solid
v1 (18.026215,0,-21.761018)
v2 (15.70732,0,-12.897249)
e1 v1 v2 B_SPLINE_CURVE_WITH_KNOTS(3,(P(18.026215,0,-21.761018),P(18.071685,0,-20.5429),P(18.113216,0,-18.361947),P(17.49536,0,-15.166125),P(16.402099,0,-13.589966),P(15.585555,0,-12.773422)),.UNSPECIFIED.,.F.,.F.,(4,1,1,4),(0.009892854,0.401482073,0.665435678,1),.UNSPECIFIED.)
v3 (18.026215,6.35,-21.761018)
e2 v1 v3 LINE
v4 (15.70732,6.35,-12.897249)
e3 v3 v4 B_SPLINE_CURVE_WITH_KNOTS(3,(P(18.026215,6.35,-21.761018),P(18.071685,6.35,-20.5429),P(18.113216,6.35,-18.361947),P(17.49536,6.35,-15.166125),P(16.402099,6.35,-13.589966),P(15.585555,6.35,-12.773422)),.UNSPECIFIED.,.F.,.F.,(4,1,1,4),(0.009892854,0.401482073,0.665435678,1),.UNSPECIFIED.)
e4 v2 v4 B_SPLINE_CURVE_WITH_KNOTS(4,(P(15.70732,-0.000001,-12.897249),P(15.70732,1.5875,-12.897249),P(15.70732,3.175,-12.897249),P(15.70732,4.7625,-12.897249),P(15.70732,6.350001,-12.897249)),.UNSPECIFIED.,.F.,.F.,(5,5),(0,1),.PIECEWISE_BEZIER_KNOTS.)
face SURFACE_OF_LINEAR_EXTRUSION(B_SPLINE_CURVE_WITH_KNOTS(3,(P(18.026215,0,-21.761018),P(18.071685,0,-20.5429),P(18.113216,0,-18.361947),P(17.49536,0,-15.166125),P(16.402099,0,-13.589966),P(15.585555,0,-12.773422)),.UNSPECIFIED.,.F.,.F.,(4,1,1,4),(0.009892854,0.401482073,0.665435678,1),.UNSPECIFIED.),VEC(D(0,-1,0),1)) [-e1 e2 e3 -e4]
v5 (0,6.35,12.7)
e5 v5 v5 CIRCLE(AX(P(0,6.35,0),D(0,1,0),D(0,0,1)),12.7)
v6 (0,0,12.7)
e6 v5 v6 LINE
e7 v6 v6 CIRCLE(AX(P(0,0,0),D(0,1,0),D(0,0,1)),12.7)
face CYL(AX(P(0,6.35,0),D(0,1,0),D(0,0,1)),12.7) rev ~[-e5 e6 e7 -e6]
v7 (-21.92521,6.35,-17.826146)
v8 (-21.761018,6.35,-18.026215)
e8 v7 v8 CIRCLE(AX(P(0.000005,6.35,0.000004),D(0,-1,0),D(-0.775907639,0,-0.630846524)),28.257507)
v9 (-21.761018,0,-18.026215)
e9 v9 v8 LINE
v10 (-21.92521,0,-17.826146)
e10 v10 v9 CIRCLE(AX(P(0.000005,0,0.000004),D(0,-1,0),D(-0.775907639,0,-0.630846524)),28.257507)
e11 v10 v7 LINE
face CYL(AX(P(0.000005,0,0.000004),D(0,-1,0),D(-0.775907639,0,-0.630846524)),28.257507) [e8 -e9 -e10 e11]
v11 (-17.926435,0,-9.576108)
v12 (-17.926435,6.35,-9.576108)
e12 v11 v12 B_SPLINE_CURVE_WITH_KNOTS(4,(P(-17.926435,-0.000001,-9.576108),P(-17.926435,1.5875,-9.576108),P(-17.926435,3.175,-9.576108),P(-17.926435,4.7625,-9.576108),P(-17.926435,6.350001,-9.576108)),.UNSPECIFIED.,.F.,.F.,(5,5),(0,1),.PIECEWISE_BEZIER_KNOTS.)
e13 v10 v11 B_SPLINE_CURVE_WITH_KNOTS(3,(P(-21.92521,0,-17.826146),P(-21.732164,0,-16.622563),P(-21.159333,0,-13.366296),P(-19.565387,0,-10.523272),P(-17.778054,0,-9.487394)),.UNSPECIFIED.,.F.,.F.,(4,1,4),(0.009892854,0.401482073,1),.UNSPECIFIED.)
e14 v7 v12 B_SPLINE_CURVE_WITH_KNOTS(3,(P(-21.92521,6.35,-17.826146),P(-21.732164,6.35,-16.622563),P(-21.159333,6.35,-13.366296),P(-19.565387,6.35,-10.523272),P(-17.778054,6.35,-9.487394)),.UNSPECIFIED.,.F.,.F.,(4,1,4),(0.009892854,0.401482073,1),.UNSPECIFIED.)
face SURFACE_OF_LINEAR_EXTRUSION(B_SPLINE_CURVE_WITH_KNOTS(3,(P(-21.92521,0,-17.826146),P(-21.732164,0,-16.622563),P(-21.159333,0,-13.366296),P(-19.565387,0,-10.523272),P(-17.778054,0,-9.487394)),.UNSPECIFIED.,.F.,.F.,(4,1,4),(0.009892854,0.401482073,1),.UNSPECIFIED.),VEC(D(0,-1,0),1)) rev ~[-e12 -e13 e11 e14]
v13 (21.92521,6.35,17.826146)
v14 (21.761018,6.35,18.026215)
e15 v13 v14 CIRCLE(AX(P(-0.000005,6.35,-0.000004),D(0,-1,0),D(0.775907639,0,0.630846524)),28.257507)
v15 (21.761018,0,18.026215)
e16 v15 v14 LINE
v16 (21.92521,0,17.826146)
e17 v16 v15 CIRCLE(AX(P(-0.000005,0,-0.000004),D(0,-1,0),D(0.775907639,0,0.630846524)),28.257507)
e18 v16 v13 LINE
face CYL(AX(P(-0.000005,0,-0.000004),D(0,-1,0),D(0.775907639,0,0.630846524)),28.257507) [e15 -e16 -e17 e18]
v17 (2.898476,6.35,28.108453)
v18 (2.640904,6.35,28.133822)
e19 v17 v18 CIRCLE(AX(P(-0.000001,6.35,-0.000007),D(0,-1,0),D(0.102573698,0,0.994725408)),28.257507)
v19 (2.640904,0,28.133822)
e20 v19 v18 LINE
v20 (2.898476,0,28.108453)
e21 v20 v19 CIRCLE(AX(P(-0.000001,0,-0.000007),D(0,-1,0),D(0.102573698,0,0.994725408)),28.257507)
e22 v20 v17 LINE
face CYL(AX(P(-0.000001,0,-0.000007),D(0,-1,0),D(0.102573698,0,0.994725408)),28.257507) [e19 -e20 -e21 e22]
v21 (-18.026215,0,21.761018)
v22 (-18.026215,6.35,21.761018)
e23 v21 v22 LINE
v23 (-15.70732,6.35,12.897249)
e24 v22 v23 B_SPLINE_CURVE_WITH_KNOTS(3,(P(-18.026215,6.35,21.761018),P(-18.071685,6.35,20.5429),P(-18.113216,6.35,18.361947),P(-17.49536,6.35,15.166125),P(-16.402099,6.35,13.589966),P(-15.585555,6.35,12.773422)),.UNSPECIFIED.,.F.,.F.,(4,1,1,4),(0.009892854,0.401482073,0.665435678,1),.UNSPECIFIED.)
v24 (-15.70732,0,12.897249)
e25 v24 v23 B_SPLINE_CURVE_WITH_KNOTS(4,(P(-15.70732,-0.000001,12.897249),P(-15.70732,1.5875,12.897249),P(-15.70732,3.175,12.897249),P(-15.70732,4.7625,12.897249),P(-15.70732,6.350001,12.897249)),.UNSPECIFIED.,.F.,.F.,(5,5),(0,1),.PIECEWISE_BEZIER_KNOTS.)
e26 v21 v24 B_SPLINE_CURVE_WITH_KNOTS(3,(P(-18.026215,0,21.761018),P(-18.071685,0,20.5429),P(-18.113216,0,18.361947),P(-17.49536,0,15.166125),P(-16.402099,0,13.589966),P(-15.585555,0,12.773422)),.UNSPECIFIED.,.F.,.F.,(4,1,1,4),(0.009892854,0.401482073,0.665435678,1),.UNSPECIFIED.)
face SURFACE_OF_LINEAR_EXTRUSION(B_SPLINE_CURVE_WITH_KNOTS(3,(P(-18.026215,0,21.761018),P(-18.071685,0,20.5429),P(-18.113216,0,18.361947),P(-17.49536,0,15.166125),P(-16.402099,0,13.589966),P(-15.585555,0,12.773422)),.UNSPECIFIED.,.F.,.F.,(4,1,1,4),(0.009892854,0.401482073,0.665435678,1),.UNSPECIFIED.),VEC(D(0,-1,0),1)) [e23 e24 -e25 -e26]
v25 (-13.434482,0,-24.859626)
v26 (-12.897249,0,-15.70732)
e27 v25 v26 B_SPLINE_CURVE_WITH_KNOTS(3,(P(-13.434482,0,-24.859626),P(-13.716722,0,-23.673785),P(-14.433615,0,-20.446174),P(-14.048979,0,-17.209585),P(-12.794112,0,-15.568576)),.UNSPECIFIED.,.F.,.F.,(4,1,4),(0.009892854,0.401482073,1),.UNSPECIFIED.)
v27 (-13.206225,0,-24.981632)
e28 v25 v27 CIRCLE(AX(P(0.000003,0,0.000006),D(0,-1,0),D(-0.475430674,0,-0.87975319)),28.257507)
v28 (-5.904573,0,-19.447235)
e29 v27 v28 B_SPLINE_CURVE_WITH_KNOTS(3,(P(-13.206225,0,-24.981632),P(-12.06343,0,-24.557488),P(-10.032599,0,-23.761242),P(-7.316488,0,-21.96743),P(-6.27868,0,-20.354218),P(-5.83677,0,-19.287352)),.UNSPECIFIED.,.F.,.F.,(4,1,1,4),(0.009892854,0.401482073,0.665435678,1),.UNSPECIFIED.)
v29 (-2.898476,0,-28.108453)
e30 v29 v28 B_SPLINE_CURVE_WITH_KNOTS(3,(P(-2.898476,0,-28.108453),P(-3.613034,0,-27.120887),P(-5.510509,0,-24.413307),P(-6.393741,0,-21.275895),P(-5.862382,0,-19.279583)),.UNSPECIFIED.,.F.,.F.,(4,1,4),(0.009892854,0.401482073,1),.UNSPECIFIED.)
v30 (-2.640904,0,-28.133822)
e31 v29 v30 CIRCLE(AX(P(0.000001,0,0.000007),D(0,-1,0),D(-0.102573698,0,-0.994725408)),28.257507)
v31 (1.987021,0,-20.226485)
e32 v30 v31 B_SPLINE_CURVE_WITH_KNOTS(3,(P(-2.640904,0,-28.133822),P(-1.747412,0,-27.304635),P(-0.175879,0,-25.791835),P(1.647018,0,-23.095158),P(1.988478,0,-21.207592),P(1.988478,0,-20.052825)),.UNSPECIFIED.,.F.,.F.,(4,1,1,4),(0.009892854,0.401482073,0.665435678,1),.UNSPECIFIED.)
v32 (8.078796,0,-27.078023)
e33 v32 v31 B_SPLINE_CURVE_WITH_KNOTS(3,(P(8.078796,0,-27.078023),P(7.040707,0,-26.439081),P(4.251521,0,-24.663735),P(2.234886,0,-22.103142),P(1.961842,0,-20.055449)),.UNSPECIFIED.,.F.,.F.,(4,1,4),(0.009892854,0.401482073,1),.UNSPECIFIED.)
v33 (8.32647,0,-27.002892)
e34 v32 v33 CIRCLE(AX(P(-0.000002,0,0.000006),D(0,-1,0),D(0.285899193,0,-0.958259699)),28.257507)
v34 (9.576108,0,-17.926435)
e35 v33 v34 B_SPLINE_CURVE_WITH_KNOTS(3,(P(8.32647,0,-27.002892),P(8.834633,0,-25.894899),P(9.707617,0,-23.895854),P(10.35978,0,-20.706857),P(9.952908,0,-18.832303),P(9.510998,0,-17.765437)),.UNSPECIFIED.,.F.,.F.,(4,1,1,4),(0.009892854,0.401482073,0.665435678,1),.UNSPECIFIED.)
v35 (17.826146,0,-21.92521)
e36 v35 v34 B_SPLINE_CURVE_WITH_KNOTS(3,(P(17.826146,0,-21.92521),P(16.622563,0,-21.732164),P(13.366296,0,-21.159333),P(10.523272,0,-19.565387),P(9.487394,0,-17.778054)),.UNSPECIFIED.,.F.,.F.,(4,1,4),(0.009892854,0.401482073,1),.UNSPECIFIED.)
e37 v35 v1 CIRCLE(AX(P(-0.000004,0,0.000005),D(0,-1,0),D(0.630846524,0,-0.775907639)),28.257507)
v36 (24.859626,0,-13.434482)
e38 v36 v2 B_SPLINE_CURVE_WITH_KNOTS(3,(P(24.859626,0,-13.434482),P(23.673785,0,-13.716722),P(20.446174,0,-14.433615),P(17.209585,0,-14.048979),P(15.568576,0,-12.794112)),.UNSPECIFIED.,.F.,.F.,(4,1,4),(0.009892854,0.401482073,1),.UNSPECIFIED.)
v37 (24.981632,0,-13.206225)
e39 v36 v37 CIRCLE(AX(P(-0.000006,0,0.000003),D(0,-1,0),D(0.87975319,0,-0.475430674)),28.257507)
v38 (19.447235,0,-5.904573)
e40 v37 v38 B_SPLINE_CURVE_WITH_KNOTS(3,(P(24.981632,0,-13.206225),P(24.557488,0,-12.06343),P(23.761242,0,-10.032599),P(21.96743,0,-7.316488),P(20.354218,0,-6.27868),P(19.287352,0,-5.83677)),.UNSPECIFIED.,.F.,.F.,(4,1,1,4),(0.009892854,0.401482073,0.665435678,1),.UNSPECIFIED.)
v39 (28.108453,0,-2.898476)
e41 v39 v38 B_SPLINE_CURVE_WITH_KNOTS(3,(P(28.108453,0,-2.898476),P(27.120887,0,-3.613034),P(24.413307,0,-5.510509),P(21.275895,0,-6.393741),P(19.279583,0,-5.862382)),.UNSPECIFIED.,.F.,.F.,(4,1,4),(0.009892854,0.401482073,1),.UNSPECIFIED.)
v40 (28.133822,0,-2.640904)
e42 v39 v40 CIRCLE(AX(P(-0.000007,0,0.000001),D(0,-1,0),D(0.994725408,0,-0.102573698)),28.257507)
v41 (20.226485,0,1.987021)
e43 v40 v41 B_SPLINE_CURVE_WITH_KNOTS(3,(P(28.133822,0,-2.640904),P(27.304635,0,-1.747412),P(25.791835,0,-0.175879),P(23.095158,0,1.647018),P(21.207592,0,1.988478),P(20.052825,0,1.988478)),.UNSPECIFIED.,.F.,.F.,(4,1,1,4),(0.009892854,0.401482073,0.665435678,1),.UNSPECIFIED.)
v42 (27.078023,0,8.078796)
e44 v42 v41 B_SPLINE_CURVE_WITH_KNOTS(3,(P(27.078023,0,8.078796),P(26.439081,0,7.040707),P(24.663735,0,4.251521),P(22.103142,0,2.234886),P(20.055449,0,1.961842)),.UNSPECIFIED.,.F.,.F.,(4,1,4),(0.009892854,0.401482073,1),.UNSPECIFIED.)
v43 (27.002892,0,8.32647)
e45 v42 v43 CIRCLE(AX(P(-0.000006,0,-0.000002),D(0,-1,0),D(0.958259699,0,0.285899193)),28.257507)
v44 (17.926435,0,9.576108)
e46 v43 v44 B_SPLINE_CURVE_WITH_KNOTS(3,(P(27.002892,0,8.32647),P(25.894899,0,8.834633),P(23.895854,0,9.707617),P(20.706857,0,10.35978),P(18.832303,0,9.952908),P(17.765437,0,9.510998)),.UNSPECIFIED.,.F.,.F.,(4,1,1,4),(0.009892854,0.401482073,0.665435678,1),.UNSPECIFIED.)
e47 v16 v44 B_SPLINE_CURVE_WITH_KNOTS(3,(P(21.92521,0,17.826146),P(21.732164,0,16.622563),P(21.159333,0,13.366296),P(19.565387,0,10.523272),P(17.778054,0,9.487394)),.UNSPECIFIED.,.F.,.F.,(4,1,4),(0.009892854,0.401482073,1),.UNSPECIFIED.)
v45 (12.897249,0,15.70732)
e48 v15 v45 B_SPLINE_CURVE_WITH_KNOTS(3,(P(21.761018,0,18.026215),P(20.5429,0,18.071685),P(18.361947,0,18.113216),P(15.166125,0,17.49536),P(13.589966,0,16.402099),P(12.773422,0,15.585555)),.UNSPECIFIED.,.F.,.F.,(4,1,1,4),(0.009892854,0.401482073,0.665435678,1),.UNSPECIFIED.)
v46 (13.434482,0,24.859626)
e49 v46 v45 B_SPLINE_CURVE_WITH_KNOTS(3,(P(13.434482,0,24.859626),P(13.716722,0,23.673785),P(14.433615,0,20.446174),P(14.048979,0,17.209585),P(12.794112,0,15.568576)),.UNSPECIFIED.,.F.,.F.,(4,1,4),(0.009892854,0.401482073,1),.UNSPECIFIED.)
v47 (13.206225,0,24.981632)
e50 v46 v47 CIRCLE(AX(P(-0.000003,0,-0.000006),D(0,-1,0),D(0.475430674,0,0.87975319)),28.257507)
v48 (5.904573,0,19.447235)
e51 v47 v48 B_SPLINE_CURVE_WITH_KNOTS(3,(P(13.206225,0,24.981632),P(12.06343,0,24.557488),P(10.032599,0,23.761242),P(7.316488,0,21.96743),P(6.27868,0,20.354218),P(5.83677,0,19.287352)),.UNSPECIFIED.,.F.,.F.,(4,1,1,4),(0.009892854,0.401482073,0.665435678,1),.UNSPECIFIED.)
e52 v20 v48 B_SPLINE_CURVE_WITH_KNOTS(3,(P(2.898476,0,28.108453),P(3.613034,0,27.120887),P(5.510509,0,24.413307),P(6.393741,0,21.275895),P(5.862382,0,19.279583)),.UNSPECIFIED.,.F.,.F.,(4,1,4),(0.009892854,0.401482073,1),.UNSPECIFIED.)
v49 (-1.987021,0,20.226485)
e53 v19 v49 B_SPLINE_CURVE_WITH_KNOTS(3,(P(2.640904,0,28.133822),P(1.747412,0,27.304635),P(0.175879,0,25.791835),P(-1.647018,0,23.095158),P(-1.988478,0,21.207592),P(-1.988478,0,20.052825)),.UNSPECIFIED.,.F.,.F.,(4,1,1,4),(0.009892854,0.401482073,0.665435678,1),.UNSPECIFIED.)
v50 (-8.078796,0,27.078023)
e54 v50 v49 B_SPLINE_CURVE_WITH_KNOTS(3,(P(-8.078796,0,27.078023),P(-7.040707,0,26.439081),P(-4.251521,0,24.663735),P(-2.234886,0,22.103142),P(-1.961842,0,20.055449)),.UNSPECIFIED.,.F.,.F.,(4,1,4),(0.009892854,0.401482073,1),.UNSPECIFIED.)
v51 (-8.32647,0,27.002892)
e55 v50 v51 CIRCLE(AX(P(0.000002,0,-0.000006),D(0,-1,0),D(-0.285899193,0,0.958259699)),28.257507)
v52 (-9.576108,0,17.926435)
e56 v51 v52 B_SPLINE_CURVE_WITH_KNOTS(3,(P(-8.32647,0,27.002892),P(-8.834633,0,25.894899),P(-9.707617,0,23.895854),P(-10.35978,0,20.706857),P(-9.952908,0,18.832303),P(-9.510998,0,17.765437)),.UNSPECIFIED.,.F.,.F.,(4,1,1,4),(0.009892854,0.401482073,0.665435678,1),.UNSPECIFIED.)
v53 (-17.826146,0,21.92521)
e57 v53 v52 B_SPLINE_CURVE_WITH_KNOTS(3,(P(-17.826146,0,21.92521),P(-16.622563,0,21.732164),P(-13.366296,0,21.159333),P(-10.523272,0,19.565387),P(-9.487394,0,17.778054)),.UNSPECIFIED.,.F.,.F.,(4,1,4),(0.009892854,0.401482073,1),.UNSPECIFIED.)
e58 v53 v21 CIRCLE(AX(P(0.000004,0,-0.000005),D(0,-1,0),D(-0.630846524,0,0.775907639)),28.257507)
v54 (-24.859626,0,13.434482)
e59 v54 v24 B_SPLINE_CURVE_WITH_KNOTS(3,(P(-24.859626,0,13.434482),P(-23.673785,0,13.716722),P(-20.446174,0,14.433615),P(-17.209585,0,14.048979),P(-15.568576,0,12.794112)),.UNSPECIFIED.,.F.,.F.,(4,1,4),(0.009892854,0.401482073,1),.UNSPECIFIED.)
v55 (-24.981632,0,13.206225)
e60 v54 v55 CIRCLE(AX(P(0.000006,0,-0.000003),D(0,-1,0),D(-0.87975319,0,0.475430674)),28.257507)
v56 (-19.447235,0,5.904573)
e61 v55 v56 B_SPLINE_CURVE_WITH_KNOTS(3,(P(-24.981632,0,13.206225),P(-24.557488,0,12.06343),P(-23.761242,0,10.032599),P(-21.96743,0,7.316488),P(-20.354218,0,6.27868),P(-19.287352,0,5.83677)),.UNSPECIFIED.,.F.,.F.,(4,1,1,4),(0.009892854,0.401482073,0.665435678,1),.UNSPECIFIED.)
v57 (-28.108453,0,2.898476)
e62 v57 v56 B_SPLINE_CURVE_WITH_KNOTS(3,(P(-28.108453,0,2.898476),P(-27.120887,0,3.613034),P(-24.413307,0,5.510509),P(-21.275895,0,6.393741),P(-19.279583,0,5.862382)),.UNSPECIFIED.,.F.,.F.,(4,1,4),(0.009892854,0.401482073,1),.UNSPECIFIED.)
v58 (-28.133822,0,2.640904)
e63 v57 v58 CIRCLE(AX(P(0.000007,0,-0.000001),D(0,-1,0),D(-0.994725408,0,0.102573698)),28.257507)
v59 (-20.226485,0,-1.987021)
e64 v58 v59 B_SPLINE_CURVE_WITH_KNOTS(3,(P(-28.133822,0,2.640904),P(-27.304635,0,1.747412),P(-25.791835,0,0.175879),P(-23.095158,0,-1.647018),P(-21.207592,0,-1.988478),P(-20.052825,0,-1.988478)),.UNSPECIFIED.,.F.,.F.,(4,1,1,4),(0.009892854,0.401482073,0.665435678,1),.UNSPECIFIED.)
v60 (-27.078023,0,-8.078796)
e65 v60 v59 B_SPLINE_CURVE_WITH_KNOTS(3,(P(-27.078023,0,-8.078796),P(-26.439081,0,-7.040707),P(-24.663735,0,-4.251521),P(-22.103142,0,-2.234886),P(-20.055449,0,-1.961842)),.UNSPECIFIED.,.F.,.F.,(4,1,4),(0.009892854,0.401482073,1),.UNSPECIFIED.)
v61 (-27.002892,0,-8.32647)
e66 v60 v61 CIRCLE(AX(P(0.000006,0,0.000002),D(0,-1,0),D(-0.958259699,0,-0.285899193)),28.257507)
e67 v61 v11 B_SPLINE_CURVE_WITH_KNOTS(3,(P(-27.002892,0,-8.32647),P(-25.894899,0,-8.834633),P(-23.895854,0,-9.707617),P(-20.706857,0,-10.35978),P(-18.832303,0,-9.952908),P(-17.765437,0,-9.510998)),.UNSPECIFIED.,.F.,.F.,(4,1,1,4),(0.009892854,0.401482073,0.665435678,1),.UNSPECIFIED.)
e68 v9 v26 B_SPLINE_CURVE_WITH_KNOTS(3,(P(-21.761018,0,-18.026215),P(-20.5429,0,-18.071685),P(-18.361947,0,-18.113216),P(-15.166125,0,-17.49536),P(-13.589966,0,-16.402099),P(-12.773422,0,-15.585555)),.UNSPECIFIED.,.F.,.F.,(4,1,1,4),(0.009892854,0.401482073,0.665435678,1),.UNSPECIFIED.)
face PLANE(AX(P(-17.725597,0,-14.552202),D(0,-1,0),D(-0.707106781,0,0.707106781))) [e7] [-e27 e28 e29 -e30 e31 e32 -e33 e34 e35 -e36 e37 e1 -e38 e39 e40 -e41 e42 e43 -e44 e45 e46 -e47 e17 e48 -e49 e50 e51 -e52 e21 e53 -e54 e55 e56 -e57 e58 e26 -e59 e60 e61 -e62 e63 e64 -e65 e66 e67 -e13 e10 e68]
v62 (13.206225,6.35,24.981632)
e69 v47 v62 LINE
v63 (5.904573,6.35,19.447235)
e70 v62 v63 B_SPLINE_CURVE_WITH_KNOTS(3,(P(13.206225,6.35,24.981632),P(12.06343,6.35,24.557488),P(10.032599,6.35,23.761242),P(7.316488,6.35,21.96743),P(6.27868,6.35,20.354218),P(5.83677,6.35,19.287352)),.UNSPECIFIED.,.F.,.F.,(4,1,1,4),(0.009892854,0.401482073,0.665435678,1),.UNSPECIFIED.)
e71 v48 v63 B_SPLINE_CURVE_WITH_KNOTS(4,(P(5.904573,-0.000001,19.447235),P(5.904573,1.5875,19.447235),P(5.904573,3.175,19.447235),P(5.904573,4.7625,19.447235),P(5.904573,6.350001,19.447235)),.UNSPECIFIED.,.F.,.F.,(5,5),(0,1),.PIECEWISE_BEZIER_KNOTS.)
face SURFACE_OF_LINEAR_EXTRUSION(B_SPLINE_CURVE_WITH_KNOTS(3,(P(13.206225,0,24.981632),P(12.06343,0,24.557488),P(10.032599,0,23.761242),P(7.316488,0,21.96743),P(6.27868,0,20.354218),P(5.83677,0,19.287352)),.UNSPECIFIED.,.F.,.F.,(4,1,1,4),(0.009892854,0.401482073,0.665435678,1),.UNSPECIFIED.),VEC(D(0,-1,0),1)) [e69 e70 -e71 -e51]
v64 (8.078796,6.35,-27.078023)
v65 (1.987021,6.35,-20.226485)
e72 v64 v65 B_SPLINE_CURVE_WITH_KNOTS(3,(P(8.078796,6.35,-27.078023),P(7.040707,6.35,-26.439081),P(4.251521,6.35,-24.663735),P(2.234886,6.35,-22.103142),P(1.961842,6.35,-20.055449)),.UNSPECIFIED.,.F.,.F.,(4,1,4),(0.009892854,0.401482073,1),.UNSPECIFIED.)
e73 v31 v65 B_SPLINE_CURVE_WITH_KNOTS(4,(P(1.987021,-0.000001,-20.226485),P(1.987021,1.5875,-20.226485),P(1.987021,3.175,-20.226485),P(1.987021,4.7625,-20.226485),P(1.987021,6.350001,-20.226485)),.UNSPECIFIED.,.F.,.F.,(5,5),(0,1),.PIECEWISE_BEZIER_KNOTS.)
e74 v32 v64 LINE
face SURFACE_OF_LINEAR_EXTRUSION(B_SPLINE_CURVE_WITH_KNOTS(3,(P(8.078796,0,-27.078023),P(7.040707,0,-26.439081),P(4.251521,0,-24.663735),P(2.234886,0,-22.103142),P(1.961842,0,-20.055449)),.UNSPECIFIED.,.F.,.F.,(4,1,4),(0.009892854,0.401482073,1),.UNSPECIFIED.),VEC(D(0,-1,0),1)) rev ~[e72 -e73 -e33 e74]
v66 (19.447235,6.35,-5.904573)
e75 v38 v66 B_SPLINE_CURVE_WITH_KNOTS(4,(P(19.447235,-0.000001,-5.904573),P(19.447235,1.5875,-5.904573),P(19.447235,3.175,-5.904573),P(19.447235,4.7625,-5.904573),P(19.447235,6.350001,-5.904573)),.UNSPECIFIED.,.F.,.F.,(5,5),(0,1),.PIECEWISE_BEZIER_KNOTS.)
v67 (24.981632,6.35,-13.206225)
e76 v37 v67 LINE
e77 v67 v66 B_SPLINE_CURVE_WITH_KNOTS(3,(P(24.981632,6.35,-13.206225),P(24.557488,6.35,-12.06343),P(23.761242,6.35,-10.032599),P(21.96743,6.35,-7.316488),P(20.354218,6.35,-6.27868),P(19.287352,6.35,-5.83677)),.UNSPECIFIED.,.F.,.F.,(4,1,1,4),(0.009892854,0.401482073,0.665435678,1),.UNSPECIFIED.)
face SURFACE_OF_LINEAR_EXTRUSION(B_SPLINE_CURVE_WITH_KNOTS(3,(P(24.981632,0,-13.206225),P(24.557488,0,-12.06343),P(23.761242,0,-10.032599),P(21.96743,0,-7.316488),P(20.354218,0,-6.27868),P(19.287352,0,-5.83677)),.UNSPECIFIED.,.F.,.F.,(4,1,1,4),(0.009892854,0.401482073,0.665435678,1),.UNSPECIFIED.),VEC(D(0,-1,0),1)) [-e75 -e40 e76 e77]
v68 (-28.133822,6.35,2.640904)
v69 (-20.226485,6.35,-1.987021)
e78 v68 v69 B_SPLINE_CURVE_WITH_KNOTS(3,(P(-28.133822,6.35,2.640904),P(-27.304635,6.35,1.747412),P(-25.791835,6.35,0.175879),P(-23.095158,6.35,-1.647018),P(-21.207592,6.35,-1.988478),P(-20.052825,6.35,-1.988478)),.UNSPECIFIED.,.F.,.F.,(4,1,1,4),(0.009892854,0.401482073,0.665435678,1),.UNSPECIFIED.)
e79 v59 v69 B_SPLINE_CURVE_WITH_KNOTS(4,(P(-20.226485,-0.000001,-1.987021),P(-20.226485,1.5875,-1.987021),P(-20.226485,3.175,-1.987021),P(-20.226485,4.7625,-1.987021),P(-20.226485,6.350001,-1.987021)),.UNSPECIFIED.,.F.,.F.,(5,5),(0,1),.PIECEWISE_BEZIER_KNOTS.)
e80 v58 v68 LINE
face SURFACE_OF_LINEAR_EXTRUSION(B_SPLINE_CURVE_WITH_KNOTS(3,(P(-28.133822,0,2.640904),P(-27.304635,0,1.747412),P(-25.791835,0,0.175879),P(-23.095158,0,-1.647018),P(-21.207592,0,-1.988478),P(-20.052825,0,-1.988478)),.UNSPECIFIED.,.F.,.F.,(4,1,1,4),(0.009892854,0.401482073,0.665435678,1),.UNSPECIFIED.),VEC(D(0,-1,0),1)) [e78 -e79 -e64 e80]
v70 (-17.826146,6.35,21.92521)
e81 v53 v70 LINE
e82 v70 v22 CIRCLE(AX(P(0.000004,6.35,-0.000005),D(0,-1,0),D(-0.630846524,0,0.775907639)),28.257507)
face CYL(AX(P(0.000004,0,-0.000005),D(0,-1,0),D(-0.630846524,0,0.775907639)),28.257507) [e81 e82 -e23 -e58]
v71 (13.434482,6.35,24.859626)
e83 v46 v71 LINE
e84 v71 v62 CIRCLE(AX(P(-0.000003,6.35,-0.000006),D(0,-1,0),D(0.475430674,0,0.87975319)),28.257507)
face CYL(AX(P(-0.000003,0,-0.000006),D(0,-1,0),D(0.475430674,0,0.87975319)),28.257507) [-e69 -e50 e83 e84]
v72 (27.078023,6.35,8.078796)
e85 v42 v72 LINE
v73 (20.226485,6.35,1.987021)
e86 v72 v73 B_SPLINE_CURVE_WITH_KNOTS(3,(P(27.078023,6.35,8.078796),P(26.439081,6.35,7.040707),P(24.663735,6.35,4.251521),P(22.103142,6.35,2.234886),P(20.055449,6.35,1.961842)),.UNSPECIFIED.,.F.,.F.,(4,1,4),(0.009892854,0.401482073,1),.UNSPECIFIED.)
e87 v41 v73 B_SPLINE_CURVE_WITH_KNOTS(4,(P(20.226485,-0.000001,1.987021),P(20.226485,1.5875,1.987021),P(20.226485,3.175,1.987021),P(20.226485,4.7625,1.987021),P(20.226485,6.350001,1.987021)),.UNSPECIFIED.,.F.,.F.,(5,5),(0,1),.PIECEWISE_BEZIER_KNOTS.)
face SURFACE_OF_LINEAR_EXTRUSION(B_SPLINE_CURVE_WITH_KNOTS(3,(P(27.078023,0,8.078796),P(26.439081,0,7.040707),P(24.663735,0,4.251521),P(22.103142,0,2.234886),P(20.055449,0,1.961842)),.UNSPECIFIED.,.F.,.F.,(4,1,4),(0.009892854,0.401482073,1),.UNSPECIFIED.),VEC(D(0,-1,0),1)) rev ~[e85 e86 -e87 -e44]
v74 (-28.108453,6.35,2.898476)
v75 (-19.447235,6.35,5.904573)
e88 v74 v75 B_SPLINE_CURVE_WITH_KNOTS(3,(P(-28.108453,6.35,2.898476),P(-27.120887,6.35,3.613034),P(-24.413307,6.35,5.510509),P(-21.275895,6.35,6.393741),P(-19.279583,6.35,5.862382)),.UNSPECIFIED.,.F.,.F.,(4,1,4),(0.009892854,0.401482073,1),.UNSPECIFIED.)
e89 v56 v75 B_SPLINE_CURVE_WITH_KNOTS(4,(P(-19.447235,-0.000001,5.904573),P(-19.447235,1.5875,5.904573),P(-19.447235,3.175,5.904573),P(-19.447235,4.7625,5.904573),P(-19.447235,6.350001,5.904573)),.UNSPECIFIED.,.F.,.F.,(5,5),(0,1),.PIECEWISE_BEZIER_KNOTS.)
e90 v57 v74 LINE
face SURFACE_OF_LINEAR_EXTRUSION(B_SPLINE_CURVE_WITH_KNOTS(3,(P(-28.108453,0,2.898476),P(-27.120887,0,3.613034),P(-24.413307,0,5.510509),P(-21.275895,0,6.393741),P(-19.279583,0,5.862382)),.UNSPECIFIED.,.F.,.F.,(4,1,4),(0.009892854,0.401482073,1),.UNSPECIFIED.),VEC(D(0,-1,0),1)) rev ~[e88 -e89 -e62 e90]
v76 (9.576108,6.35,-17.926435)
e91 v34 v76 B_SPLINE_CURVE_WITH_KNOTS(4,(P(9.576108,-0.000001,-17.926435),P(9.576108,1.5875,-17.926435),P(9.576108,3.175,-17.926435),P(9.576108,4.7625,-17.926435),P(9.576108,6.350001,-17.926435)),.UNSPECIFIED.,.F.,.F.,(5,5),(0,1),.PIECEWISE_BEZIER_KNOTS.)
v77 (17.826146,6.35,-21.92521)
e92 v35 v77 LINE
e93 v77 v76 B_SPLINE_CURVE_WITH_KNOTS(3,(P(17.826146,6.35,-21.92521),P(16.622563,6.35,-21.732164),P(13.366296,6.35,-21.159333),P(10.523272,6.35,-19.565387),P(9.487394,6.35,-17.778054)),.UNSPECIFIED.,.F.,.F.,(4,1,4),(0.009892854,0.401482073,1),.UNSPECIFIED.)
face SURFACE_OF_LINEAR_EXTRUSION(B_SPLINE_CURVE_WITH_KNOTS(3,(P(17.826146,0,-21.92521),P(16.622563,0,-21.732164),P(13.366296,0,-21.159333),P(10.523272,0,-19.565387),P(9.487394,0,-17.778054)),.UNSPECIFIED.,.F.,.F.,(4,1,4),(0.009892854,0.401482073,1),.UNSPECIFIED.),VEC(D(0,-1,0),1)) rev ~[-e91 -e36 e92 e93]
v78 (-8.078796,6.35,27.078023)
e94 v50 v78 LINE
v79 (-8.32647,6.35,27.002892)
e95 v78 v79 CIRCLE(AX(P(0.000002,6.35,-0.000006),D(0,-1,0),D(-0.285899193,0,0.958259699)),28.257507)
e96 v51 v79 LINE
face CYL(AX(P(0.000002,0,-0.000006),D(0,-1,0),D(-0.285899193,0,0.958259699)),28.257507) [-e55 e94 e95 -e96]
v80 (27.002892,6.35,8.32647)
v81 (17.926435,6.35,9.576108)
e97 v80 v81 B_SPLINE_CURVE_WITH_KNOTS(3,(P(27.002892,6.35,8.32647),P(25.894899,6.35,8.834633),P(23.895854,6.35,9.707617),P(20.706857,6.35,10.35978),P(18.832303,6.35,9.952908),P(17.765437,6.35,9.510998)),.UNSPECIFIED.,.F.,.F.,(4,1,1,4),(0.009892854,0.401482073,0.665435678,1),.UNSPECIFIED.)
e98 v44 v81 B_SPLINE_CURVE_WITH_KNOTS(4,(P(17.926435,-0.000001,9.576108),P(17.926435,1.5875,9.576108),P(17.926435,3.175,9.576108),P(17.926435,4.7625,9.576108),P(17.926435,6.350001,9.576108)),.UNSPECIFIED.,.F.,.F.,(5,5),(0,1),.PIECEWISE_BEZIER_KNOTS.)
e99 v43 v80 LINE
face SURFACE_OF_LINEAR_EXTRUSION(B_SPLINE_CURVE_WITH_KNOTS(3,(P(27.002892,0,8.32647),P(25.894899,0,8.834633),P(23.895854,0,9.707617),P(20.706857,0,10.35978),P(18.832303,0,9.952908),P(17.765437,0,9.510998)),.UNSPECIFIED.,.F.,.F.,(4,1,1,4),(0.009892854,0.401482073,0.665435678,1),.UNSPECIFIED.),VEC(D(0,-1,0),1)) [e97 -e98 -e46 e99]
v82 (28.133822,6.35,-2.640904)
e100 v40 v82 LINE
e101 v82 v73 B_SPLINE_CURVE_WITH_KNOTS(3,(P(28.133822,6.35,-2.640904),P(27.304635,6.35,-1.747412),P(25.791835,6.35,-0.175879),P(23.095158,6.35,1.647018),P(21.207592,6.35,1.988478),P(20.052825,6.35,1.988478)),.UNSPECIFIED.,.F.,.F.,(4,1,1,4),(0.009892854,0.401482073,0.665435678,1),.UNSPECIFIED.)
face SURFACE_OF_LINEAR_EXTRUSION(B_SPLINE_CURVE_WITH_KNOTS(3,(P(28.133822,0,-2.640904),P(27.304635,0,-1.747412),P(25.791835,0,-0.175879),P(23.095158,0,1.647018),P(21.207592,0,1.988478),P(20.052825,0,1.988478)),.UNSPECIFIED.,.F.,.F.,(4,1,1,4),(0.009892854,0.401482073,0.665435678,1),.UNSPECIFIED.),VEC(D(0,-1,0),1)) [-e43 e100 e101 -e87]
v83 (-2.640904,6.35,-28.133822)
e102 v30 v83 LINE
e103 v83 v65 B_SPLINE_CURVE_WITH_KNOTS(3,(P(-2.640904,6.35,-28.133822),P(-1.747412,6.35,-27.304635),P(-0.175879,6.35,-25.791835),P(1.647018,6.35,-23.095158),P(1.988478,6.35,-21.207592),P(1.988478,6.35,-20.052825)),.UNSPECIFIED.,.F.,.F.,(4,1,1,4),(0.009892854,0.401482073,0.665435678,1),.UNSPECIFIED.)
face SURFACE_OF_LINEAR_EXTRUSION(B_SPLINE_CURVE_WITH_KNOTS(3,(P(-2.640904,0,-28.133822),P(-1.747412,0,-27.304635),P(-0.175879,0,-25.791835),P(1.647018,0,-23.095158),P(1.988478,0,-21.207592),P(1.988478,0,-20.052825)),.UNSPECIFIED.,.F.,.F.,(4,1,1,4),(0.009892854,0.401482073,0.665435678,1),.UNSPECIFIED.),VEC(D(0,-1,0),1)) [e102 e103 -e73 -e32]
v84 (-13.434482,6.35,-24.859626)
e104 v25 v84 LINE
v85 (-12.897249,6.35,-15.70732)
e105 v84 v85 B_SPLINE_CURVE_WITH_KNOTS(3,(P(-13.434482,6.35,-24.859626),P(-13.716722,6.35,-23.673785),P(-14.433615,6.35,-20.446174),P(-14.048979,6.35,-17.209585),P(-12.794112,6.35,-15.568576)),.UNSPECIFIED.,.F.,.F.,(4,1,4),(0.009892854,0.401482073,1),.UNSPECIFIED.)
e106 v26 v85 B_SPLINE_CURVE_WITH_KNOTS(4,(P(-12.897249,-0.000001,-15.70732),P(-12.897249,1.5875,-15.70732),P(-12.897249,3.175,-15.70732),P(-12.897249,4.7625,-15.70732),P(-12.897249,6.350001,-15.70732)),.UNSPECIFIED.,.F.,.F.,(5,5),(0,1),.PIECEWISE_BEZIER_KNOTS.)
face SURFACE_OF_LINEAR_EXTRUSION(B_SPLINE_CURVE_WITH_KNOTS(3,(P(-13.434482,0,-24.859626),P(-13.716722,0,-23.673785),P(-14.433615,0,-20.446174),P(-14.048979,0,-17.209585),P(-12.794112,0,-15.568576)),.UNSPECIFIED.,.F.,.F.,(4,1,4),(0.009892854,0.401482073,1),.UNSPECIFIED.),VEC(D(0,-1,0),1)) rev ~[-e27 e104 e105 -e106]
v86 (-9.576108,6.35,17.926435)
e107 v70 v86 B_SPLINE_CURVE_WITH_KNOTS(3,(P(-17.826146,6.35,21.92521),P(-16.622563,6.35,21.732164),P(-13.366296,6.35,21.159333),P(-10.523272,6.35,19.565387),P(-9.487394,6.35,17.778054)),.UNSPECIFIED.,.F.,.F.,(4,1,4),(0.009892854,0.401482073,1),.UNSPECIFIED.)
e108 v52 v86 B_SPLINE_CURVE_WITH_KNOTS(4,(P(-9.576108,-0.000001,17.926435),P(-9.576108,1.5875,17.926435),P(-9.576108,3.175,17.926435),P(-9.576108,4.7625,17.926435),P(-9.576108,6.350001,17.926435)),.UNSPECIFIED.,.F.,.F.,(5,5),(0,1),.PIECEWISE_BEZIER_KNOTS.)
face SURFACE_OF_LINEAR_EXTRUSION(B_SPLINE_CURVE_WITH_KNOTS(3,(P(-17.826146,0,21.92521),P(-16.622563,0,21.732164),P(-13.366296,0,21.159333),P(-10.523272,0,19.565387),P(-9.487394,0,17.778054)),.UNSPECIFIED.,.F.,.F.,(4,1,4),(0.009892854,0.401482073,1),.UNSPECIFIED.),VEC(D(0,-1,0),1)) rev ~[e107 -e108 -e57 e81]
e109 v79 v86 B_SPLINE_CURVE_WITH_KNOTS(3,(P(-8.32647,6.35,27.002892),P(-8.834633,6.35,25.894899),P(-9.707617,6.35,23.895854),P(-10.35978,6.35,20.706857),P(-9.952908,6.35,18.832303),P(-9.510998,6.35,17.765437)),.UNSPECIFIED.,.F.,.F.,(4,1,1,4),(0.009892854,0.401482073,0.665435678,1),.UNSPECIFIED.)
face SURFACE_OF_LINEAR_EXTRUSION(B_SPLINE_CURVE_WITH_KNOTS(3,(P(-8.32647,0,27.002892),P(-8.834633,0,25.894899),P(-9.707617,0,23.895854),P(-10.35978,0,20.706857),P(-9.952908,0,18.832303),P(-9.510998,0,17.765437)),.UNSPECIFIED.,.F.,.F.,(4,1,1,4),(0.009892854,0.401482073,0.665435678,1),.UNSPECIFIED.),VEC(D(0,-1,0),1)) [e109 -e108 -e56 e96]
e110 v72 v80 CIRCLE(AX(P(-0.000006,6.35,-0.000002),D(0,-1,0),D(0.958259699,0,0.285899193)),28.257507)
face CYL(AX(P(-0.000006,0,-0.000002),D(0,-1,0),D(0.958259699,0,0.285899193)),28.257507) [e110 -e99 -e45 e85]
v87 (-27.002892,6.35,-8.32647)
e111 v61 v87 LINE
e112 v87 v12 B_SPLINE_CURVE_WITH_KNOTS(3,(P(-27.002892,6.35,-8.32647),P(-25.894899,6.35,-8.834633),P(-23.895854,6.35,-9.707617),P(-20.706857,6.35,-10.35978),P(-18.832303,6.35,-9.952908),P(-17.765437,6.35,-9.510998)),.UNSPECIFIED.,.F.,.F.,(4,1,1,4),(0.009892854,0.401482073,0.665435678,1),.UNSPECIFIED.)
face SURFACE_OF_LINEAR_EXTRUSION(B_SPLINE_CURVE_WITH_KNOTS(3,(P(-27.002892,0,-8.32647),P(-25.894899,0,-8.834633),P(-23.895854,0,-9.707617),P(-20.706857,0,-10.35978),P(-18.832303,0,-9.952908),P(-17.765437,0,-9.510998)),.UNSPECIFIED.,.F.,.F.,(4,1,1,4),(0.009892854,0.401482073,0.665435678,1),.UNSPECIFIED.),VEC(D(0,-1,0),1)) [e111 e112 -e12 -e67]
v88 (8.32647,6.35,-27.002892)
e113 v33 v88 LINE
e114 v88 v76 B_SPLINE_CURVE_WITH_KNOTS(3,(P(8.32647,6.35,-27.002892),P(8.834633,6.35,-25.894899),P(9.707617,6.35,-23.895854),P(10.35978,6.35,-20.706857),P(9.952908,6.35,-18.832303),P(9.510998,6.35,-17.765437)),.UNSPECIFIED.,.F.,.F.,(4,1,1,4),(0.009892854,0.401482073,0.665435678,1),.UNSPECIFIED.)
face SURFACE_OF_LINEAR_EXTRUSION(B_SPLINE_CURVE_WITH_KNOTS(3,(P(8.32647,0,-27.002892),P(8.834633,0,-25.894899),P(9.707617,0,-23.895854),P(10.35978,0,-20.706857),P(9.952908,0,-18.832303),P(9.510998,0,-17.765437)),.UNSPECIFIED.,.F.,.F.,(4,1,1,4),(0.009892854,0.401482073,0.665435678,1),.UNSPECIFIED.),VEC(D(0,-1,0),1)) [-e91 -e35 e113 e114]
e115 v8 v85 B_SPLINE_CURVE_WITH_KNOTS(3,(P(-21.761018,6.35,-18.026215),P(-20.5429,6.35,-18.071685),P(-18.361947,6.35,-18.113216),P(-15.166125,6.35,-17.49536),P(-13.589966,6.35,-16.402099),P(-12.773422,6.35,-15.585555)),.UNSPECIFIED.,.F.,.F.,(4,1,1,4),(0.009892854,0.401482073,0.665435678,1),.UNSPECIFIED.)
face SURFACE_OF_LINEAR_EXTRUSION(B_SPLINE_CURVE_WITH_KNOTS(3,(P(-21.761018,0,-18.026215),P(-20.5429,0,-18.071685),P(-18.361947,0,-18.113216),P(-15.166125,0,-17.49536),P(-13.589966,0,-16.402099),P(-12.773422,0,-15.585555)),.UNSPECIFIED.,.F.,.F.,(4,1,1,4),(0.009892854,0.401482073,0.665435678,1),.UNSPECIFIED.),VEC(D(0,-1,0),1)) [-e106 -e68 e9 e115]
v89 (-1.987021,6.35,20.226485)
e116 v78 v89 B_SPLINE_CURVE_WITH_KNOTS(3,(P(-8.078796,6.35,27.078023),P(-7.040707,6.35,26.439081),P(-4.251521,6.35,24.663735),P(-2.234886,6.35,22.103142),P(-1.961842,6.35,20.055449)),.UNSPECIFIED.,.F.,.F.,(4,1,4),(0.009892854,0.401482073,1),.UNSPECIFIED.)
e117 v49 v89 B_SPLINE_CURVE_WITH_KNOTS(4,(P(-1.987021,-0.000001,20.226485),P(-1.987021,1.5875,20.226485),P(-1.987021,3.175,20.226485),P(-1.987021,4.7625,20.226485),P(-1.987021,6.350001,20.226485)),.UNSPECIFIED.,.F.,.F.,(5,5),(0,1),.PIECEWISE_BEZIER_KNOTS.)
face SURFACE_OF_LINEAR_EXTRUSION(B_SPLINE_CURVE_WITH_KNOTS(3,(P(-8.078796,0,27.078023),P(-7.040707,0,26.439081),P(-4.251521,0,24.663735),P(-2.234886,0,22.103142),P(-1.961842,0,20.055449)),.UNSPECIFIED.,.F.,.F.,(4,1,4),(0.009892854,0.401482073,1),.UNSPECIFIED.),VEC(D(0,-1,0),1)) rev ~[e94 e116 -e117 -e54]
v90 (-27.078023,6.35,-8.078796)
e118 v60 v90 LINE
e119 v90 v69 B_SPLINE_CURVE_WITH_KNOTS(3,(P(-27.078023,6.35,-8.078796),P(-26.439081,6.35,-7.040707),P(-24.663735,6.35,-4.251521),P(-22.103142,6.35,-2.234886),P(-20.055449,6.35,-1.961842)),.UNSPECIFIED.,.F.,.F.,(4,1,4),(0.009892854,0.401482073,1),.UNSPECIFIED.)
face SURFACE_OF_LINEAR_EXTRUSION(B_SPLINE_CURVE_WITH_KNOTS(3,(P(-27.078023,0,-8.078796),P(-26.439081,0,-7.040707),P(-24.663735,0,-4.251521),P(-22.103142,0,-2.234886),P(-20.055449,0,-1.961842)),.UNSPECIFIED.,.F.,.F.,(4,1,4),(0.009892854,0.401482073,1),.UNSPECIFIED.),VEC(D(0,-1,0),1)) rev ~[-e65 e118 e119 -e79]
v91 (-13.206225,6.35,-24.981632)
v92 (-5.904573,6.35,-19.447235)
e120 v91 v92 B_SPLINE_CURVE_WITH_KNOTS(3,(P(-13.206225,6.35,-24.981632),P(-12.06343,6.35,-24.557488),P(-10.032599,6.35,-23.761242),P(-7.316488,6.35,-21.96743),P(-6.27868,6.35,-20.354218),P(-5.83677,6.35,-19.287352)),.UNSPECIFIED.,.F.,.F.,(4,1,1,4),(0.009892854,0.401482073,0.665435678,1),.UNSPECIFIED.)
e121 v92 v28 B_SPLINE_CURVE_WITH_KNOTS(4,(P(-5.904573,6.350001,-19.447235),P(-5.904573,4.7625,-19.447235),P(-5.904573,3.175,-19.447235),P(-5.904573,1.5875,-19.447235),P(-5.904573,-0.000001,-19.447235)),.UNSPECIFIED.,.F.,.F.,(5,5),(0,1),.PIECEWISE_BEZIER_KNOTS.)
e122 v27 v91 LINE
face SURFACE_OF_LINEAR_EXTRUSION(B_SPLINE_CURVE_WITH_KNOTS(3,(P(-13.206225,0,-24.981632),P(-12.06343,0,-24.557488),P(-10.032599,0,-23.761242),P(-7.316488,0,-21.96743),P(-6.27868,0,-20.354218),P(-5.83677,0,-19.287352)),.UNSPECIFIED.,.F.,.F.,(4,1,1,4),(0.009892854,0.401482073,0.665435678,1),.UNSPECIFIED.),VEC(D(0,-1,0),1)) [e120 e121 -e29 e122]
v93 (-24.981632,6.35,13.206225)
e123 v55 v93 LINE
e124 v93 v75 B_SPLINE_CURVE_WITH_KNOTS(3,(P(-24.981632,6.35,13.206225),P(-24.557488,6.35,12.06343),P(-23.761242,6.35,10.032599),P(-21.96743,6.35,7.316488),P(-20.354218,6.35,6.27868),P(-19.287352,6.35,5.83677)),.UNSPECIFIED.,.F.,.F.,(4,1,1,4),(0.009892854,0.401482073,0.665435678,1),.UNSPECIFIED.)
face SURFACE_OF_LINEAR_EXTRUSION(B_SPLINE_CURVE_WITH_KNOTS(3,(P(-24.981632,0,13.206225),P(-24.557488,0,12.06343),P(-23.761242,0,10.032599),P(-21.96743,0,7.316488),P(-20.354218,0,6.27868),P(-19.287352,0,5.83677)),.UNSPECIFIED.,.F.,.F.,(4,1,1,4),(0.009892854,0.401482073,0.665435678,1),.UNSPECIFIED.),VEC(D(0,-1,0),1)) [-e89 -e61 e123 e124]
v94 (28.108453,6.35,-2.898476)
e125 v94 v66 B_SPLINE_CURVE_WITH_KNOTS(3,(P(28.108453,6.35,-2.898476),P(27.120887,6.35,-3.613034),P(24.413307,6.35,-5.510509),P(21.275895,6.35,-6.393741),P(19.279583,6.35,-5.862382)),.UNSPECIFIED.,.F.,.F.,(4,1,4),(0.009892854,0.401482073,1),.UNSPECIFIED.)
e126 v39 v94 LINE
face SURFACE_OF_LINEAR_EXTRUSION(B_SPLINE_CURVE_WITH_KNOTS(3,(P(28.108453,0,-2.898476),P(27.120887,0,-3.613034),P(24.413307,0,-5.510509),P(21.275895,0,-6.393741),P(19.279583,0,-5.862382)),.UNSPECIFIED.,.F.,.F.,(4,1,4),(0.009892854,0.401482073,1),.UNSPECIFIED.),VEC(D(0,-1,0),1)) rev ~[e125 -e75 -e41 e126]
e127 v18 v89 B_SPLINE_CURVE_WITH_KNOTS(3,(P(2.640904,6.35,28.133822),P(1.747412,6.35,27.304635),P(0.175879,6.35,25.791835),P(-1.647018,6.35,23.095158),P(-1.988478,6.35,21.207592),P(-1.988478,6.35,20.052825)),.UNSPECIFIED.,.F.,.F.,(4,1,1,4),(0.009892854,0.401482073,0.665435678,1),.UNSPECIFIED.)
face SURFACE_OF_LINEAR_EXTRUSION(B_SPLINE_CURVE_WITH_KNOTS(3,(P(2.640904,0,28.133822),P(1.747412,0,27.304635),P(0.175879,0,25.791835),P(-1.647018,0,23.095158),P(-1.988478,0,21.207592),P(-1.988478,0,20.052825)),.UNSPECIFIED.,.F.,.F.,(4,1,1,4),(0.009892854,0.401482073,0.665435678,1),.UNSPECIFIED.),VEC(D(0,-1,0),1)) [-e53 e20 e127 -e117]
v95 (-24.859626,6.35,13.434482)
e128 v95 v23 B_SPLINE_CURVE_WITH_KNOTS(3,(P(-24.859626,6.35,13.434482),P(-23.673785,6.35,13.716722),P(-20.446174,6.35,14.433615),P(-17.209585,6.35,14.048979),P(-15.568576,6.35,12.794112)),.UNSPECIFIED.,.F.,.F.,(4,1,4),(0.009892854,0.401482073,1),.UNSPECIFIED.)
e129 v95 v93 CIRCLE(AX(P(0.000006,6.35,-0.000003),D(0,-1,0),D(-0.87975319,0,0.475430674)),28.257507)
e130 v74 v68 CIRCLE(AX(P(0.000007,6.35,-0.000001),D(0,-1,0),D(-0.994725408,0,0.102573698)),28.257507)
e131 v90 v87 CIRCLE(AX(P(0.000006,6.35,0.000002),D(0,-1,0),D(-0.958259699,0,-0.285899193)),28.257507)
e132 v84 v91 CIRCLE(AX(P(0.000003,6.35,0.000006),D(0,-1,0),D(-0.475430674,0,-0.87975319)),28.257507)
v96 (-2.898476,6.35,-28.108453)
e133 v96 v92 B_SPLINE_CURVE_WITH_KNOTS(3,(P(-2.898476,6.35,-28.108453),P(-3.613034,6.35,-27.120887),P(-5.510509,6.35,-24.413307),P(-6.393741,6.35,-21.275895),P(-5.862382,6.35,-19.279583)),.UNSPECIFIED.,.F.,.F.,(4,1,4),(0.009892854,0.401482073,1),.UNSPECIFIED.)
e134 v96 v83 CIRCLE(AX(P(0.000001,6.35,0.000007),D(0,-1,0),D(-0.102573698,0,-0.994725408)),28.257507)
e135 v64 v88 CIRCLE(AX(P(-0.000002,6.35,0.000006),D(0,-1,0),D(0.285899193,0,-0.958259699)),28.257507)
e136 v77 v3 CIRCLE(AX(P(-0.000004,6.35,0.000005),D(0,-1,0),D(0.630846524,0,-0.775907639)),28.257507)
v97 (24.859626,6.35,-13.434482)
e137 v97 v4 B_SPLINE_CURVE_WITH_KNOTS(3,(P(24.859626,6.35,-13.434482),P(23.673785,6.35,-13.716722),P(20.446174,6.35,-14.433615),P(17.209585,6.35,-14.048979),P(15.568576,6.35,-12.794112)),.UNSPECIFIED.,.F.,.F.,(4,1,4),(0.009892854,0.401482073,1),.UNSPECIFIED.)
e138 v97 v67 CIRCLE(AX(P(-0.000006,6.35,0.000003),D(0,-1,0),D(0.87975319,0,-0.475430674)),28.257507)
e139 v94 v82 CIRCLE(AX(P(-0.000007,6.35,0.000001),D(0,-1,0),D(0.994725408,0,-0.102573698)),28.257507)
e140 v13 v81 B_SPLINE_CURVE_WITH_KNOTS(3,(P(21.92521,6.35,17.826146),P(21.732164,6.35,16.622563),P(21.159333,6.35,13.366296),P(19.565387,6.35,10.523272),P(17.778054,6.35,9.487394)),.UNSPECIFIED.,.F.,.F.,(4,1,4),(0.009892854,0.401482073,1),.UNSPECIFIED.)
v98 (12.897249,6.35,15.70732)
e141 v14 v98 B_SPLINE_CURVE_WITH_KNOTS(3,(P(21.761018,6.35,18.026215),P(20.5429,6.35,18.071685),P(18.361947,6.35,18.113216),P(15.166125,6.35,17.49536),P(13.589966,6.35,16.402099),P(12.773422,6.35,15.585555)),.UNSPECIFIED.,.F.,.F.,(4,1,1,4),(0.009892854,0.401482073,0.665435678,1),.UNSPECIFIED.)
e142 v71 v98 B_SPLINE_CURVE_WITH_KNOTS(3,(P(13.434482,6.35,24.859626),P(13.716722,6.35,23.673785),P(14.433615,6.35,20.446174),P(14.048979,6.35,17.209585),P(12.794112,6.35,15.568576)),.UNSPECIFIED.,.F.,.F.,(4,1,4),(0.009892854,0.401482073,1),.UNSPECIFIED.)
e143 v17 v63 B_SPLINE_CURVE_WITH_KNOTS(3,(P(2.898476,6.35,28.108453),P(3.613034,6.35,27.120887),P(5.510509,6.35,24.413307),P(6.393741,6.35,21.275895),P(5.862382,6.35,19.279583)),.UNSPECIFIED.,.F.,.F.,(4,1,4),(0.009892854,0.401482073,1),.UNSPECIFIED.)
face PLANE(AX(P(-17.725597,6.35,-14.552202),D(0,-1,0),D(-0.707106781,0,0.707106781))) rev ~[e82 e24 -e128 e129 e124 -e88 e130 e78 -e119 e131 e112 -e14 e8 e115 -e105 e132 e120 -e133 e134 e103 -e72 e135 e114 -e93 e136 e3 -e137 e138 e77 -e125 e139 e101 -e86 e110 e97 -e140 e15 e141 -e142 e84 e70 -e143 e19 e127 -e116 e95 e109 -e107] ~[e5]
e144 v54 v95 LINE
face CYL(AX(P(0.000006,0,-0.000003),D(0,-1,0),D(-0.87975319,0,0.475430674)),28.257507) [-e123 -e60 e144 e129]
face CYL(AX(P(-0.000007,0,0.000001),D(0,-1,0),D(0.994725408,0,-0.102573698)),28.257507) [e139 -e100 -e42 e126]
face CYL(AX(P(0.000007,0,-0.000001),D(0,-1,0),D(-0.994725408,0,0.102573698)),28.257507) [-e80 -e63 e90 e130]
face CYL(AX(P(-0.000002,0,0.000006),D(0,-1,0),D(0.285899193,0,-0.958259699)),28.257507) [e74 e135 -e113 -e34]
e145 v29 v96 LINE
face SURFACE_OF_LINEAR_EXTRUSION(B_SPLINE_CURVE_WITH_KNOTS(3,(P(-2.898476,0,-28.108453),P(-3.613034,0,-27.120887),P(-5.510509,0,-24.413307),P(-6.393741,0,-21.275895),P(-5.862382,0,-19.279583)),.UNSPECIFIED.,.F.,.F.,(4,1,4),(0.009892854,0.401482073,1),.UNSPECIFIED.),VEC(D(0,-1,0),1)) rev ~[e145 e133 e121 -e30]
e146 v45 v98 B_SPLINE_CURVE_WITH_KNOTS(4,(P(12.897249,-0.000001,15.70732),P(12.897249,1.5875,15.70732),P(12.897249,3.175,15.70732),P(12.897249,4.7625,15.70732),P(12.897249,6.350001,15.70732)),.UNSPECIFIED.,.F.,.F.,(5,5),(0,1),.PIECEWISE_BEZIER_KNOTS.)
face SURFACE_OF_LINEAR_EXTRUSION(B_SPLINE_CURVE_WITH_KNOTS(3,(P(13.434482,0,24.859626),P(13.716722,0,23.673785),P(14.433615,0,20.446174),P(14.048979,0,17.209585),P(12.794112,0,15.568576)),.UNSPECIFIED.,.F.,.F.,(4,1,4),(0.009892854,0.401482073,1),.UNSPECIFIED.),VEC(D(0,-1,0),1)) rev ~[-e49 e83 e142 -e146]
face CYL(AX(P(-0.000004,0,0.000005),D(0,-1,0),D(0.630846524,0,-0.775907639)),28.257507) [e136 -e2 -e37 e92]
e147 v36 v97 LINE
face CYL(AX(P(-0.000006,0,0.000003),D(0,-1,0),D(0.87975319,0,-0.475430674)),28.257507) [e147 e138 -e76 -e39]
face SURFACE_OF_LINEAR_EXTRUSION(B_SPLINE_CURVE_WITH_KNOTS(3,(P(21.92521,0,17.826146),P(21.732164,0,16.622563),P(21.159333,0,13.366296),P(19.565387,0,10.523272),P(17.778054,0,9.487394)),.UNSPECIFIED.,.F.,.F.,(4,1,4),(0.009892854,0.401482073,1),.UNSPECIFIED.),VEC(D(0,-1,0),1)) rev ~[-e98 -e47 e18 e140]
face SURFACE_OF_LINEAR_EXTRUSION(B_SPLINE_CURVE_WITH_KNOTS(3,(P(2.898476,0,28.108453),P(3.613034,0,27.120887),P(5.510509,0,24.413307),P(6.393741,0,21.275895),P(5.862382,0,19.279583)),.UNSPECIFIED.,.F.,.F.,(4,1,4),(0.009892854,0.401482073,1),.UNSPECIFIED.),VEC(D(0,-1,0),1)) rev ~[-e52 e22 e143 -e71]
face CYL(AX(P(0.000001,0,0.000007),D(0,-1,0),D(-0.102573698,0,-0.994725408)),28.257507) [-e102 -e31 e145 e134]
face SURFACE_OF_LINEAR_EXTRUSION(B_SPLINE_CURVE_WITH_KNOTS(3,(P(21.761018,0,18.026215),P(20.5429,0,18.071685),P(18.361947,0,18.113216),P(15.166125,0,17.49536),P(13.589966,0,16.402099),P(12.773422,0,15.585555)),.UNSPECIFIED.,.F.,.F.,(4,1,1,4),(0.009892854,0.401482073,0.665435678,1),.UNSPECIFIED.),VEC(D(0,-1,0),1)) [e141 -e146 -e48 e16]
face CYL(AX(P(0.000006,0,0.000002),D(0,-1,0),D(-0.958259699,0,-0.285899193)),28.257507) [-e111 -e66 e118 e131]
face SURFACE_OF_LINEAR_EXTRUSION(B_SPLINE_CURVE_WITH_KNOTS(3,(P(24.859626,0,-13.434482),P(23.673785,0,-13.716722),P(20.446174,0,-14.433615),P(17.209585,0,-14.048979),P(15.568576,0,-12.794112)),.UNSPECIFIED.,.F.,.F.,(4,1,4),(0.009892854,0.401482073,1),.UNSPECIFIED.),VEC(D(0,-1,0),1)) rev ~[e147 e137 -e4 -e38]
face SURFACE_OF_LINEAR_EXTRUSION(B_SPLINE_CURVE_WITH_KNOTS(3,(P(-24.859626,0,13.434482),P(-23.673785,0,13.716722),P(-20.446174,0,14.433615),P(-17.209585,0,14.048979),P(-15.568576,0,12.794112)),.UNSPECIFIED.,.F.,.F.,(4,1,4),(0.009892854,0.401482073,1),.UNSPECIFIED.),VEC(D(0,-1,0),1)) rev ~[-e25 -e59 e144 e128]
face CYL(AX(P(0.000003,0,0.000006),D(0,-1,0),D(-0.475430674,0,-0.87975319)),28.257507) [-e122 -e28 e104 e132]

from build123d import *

# Parameters (mm, degrees)
SKETCH3_R           = 19.898430298
BOSS_EXTRUDE1_DEPTH = 6.35
BOSS_EXTRUDE2_DEPTH = 6.35
CIRPATTERN1_COUNT   = 16
SKETCH5_R           = 12.7
CUT_EXTRUDE1_DEPTH  = 41.290772811


with BuildPart() as part:
    # Sketch3 → Boss-Extrude1 (new body)
    with BuildSketch(Plane(origin=(0, 0, 0), x_dir=(1, 0, 0), z_dir=(0, 1, 0))):
        with Locations(Location((0, 0, 0), (0, 0, 270))):
            Circle(SKETCH3_R)
    extrude(amount=BOSS_EXTRUDE1_DEPTH)

    # Sketch4 → Boss-Extrude2 (add)
    with BuildSketch(Plane(origin=(0, 0, 0), x_dir=(1, 0, 0), z_dir=(0, 1, 0))):
        with BuildLine():
            Line((1.988478018, 20.052825306), (1.988478018, 19.798825306))
            ThreePointArc((1.988478018, 19.798825306), (-1.950387235, 19.802613917), (-5.812829174, 19.030463612))
            Line((-5.812829174, 19.030463612), (-5.862382116, 19.279583074))
            add(Edge.make_bspline(
                [(-2.898476267, 28.108453205), (-3.6130336, 27.120887472), (-5.51050926, 24.413306859), (-6.393741318, 21.275894599), (-5.862382116, 19.279583074)],
                knots=[0.009892854, 0.009892854, 0.009892854, 0.009892854, 0.401482073, 1, 1, 1, 1], degree=3))
            ThreePointArc((-2.898476267, 28.108453205), (-2.769719343, 28.121432414), (-2.640904329, 28.133821827))
            add(Edge.make_bspline(
                [(-2.640904329, 28.133821827), (-1.747412498, 27.304635113), (-0.175879044, 25.791834729), (1.64701783, 23.095158006), (1.988478018, 21.20759249), (1.988478018, 20.052825306)],
                knots=[0.009892854, 0.009892854, 0.009892854, 0.009892854, 0.401482073, 0.665435678, 1, 1, 1, 1], degree=3))
        make_face()
    boss_extrude2 = extrude(amount=BOSS_EXTRUDE2_DEPTH)

    # CirPattern1: Boss-Extrude2 ×16 about axis
    cirpattern1_axis = Axis((0, 6.35, 0), (0, -1, 0))
    for i in range(1, CIRPATTERN1_COUNT):
        add(boss_extrude2.rotate(cirpattern1_axis, i * 360 / CIRPATTERN1_COUNT))

    # Sketch5 → Cut-Extrude1 (cut, through all)
    with BuildSketch(Plane(origin=(0, 6.35, 0), x_dir=(1, 0, 0), z_dir=(0, 1, 0))):
        with Locations(Location((0, 0, 0), (0, 0, 270))):
            Circle(SKETCH5_R)
    extrude(amount=-CUT_EXTRUDE1_DEPTH, mode=Mode.SUBTRACT)


solid = part.part
